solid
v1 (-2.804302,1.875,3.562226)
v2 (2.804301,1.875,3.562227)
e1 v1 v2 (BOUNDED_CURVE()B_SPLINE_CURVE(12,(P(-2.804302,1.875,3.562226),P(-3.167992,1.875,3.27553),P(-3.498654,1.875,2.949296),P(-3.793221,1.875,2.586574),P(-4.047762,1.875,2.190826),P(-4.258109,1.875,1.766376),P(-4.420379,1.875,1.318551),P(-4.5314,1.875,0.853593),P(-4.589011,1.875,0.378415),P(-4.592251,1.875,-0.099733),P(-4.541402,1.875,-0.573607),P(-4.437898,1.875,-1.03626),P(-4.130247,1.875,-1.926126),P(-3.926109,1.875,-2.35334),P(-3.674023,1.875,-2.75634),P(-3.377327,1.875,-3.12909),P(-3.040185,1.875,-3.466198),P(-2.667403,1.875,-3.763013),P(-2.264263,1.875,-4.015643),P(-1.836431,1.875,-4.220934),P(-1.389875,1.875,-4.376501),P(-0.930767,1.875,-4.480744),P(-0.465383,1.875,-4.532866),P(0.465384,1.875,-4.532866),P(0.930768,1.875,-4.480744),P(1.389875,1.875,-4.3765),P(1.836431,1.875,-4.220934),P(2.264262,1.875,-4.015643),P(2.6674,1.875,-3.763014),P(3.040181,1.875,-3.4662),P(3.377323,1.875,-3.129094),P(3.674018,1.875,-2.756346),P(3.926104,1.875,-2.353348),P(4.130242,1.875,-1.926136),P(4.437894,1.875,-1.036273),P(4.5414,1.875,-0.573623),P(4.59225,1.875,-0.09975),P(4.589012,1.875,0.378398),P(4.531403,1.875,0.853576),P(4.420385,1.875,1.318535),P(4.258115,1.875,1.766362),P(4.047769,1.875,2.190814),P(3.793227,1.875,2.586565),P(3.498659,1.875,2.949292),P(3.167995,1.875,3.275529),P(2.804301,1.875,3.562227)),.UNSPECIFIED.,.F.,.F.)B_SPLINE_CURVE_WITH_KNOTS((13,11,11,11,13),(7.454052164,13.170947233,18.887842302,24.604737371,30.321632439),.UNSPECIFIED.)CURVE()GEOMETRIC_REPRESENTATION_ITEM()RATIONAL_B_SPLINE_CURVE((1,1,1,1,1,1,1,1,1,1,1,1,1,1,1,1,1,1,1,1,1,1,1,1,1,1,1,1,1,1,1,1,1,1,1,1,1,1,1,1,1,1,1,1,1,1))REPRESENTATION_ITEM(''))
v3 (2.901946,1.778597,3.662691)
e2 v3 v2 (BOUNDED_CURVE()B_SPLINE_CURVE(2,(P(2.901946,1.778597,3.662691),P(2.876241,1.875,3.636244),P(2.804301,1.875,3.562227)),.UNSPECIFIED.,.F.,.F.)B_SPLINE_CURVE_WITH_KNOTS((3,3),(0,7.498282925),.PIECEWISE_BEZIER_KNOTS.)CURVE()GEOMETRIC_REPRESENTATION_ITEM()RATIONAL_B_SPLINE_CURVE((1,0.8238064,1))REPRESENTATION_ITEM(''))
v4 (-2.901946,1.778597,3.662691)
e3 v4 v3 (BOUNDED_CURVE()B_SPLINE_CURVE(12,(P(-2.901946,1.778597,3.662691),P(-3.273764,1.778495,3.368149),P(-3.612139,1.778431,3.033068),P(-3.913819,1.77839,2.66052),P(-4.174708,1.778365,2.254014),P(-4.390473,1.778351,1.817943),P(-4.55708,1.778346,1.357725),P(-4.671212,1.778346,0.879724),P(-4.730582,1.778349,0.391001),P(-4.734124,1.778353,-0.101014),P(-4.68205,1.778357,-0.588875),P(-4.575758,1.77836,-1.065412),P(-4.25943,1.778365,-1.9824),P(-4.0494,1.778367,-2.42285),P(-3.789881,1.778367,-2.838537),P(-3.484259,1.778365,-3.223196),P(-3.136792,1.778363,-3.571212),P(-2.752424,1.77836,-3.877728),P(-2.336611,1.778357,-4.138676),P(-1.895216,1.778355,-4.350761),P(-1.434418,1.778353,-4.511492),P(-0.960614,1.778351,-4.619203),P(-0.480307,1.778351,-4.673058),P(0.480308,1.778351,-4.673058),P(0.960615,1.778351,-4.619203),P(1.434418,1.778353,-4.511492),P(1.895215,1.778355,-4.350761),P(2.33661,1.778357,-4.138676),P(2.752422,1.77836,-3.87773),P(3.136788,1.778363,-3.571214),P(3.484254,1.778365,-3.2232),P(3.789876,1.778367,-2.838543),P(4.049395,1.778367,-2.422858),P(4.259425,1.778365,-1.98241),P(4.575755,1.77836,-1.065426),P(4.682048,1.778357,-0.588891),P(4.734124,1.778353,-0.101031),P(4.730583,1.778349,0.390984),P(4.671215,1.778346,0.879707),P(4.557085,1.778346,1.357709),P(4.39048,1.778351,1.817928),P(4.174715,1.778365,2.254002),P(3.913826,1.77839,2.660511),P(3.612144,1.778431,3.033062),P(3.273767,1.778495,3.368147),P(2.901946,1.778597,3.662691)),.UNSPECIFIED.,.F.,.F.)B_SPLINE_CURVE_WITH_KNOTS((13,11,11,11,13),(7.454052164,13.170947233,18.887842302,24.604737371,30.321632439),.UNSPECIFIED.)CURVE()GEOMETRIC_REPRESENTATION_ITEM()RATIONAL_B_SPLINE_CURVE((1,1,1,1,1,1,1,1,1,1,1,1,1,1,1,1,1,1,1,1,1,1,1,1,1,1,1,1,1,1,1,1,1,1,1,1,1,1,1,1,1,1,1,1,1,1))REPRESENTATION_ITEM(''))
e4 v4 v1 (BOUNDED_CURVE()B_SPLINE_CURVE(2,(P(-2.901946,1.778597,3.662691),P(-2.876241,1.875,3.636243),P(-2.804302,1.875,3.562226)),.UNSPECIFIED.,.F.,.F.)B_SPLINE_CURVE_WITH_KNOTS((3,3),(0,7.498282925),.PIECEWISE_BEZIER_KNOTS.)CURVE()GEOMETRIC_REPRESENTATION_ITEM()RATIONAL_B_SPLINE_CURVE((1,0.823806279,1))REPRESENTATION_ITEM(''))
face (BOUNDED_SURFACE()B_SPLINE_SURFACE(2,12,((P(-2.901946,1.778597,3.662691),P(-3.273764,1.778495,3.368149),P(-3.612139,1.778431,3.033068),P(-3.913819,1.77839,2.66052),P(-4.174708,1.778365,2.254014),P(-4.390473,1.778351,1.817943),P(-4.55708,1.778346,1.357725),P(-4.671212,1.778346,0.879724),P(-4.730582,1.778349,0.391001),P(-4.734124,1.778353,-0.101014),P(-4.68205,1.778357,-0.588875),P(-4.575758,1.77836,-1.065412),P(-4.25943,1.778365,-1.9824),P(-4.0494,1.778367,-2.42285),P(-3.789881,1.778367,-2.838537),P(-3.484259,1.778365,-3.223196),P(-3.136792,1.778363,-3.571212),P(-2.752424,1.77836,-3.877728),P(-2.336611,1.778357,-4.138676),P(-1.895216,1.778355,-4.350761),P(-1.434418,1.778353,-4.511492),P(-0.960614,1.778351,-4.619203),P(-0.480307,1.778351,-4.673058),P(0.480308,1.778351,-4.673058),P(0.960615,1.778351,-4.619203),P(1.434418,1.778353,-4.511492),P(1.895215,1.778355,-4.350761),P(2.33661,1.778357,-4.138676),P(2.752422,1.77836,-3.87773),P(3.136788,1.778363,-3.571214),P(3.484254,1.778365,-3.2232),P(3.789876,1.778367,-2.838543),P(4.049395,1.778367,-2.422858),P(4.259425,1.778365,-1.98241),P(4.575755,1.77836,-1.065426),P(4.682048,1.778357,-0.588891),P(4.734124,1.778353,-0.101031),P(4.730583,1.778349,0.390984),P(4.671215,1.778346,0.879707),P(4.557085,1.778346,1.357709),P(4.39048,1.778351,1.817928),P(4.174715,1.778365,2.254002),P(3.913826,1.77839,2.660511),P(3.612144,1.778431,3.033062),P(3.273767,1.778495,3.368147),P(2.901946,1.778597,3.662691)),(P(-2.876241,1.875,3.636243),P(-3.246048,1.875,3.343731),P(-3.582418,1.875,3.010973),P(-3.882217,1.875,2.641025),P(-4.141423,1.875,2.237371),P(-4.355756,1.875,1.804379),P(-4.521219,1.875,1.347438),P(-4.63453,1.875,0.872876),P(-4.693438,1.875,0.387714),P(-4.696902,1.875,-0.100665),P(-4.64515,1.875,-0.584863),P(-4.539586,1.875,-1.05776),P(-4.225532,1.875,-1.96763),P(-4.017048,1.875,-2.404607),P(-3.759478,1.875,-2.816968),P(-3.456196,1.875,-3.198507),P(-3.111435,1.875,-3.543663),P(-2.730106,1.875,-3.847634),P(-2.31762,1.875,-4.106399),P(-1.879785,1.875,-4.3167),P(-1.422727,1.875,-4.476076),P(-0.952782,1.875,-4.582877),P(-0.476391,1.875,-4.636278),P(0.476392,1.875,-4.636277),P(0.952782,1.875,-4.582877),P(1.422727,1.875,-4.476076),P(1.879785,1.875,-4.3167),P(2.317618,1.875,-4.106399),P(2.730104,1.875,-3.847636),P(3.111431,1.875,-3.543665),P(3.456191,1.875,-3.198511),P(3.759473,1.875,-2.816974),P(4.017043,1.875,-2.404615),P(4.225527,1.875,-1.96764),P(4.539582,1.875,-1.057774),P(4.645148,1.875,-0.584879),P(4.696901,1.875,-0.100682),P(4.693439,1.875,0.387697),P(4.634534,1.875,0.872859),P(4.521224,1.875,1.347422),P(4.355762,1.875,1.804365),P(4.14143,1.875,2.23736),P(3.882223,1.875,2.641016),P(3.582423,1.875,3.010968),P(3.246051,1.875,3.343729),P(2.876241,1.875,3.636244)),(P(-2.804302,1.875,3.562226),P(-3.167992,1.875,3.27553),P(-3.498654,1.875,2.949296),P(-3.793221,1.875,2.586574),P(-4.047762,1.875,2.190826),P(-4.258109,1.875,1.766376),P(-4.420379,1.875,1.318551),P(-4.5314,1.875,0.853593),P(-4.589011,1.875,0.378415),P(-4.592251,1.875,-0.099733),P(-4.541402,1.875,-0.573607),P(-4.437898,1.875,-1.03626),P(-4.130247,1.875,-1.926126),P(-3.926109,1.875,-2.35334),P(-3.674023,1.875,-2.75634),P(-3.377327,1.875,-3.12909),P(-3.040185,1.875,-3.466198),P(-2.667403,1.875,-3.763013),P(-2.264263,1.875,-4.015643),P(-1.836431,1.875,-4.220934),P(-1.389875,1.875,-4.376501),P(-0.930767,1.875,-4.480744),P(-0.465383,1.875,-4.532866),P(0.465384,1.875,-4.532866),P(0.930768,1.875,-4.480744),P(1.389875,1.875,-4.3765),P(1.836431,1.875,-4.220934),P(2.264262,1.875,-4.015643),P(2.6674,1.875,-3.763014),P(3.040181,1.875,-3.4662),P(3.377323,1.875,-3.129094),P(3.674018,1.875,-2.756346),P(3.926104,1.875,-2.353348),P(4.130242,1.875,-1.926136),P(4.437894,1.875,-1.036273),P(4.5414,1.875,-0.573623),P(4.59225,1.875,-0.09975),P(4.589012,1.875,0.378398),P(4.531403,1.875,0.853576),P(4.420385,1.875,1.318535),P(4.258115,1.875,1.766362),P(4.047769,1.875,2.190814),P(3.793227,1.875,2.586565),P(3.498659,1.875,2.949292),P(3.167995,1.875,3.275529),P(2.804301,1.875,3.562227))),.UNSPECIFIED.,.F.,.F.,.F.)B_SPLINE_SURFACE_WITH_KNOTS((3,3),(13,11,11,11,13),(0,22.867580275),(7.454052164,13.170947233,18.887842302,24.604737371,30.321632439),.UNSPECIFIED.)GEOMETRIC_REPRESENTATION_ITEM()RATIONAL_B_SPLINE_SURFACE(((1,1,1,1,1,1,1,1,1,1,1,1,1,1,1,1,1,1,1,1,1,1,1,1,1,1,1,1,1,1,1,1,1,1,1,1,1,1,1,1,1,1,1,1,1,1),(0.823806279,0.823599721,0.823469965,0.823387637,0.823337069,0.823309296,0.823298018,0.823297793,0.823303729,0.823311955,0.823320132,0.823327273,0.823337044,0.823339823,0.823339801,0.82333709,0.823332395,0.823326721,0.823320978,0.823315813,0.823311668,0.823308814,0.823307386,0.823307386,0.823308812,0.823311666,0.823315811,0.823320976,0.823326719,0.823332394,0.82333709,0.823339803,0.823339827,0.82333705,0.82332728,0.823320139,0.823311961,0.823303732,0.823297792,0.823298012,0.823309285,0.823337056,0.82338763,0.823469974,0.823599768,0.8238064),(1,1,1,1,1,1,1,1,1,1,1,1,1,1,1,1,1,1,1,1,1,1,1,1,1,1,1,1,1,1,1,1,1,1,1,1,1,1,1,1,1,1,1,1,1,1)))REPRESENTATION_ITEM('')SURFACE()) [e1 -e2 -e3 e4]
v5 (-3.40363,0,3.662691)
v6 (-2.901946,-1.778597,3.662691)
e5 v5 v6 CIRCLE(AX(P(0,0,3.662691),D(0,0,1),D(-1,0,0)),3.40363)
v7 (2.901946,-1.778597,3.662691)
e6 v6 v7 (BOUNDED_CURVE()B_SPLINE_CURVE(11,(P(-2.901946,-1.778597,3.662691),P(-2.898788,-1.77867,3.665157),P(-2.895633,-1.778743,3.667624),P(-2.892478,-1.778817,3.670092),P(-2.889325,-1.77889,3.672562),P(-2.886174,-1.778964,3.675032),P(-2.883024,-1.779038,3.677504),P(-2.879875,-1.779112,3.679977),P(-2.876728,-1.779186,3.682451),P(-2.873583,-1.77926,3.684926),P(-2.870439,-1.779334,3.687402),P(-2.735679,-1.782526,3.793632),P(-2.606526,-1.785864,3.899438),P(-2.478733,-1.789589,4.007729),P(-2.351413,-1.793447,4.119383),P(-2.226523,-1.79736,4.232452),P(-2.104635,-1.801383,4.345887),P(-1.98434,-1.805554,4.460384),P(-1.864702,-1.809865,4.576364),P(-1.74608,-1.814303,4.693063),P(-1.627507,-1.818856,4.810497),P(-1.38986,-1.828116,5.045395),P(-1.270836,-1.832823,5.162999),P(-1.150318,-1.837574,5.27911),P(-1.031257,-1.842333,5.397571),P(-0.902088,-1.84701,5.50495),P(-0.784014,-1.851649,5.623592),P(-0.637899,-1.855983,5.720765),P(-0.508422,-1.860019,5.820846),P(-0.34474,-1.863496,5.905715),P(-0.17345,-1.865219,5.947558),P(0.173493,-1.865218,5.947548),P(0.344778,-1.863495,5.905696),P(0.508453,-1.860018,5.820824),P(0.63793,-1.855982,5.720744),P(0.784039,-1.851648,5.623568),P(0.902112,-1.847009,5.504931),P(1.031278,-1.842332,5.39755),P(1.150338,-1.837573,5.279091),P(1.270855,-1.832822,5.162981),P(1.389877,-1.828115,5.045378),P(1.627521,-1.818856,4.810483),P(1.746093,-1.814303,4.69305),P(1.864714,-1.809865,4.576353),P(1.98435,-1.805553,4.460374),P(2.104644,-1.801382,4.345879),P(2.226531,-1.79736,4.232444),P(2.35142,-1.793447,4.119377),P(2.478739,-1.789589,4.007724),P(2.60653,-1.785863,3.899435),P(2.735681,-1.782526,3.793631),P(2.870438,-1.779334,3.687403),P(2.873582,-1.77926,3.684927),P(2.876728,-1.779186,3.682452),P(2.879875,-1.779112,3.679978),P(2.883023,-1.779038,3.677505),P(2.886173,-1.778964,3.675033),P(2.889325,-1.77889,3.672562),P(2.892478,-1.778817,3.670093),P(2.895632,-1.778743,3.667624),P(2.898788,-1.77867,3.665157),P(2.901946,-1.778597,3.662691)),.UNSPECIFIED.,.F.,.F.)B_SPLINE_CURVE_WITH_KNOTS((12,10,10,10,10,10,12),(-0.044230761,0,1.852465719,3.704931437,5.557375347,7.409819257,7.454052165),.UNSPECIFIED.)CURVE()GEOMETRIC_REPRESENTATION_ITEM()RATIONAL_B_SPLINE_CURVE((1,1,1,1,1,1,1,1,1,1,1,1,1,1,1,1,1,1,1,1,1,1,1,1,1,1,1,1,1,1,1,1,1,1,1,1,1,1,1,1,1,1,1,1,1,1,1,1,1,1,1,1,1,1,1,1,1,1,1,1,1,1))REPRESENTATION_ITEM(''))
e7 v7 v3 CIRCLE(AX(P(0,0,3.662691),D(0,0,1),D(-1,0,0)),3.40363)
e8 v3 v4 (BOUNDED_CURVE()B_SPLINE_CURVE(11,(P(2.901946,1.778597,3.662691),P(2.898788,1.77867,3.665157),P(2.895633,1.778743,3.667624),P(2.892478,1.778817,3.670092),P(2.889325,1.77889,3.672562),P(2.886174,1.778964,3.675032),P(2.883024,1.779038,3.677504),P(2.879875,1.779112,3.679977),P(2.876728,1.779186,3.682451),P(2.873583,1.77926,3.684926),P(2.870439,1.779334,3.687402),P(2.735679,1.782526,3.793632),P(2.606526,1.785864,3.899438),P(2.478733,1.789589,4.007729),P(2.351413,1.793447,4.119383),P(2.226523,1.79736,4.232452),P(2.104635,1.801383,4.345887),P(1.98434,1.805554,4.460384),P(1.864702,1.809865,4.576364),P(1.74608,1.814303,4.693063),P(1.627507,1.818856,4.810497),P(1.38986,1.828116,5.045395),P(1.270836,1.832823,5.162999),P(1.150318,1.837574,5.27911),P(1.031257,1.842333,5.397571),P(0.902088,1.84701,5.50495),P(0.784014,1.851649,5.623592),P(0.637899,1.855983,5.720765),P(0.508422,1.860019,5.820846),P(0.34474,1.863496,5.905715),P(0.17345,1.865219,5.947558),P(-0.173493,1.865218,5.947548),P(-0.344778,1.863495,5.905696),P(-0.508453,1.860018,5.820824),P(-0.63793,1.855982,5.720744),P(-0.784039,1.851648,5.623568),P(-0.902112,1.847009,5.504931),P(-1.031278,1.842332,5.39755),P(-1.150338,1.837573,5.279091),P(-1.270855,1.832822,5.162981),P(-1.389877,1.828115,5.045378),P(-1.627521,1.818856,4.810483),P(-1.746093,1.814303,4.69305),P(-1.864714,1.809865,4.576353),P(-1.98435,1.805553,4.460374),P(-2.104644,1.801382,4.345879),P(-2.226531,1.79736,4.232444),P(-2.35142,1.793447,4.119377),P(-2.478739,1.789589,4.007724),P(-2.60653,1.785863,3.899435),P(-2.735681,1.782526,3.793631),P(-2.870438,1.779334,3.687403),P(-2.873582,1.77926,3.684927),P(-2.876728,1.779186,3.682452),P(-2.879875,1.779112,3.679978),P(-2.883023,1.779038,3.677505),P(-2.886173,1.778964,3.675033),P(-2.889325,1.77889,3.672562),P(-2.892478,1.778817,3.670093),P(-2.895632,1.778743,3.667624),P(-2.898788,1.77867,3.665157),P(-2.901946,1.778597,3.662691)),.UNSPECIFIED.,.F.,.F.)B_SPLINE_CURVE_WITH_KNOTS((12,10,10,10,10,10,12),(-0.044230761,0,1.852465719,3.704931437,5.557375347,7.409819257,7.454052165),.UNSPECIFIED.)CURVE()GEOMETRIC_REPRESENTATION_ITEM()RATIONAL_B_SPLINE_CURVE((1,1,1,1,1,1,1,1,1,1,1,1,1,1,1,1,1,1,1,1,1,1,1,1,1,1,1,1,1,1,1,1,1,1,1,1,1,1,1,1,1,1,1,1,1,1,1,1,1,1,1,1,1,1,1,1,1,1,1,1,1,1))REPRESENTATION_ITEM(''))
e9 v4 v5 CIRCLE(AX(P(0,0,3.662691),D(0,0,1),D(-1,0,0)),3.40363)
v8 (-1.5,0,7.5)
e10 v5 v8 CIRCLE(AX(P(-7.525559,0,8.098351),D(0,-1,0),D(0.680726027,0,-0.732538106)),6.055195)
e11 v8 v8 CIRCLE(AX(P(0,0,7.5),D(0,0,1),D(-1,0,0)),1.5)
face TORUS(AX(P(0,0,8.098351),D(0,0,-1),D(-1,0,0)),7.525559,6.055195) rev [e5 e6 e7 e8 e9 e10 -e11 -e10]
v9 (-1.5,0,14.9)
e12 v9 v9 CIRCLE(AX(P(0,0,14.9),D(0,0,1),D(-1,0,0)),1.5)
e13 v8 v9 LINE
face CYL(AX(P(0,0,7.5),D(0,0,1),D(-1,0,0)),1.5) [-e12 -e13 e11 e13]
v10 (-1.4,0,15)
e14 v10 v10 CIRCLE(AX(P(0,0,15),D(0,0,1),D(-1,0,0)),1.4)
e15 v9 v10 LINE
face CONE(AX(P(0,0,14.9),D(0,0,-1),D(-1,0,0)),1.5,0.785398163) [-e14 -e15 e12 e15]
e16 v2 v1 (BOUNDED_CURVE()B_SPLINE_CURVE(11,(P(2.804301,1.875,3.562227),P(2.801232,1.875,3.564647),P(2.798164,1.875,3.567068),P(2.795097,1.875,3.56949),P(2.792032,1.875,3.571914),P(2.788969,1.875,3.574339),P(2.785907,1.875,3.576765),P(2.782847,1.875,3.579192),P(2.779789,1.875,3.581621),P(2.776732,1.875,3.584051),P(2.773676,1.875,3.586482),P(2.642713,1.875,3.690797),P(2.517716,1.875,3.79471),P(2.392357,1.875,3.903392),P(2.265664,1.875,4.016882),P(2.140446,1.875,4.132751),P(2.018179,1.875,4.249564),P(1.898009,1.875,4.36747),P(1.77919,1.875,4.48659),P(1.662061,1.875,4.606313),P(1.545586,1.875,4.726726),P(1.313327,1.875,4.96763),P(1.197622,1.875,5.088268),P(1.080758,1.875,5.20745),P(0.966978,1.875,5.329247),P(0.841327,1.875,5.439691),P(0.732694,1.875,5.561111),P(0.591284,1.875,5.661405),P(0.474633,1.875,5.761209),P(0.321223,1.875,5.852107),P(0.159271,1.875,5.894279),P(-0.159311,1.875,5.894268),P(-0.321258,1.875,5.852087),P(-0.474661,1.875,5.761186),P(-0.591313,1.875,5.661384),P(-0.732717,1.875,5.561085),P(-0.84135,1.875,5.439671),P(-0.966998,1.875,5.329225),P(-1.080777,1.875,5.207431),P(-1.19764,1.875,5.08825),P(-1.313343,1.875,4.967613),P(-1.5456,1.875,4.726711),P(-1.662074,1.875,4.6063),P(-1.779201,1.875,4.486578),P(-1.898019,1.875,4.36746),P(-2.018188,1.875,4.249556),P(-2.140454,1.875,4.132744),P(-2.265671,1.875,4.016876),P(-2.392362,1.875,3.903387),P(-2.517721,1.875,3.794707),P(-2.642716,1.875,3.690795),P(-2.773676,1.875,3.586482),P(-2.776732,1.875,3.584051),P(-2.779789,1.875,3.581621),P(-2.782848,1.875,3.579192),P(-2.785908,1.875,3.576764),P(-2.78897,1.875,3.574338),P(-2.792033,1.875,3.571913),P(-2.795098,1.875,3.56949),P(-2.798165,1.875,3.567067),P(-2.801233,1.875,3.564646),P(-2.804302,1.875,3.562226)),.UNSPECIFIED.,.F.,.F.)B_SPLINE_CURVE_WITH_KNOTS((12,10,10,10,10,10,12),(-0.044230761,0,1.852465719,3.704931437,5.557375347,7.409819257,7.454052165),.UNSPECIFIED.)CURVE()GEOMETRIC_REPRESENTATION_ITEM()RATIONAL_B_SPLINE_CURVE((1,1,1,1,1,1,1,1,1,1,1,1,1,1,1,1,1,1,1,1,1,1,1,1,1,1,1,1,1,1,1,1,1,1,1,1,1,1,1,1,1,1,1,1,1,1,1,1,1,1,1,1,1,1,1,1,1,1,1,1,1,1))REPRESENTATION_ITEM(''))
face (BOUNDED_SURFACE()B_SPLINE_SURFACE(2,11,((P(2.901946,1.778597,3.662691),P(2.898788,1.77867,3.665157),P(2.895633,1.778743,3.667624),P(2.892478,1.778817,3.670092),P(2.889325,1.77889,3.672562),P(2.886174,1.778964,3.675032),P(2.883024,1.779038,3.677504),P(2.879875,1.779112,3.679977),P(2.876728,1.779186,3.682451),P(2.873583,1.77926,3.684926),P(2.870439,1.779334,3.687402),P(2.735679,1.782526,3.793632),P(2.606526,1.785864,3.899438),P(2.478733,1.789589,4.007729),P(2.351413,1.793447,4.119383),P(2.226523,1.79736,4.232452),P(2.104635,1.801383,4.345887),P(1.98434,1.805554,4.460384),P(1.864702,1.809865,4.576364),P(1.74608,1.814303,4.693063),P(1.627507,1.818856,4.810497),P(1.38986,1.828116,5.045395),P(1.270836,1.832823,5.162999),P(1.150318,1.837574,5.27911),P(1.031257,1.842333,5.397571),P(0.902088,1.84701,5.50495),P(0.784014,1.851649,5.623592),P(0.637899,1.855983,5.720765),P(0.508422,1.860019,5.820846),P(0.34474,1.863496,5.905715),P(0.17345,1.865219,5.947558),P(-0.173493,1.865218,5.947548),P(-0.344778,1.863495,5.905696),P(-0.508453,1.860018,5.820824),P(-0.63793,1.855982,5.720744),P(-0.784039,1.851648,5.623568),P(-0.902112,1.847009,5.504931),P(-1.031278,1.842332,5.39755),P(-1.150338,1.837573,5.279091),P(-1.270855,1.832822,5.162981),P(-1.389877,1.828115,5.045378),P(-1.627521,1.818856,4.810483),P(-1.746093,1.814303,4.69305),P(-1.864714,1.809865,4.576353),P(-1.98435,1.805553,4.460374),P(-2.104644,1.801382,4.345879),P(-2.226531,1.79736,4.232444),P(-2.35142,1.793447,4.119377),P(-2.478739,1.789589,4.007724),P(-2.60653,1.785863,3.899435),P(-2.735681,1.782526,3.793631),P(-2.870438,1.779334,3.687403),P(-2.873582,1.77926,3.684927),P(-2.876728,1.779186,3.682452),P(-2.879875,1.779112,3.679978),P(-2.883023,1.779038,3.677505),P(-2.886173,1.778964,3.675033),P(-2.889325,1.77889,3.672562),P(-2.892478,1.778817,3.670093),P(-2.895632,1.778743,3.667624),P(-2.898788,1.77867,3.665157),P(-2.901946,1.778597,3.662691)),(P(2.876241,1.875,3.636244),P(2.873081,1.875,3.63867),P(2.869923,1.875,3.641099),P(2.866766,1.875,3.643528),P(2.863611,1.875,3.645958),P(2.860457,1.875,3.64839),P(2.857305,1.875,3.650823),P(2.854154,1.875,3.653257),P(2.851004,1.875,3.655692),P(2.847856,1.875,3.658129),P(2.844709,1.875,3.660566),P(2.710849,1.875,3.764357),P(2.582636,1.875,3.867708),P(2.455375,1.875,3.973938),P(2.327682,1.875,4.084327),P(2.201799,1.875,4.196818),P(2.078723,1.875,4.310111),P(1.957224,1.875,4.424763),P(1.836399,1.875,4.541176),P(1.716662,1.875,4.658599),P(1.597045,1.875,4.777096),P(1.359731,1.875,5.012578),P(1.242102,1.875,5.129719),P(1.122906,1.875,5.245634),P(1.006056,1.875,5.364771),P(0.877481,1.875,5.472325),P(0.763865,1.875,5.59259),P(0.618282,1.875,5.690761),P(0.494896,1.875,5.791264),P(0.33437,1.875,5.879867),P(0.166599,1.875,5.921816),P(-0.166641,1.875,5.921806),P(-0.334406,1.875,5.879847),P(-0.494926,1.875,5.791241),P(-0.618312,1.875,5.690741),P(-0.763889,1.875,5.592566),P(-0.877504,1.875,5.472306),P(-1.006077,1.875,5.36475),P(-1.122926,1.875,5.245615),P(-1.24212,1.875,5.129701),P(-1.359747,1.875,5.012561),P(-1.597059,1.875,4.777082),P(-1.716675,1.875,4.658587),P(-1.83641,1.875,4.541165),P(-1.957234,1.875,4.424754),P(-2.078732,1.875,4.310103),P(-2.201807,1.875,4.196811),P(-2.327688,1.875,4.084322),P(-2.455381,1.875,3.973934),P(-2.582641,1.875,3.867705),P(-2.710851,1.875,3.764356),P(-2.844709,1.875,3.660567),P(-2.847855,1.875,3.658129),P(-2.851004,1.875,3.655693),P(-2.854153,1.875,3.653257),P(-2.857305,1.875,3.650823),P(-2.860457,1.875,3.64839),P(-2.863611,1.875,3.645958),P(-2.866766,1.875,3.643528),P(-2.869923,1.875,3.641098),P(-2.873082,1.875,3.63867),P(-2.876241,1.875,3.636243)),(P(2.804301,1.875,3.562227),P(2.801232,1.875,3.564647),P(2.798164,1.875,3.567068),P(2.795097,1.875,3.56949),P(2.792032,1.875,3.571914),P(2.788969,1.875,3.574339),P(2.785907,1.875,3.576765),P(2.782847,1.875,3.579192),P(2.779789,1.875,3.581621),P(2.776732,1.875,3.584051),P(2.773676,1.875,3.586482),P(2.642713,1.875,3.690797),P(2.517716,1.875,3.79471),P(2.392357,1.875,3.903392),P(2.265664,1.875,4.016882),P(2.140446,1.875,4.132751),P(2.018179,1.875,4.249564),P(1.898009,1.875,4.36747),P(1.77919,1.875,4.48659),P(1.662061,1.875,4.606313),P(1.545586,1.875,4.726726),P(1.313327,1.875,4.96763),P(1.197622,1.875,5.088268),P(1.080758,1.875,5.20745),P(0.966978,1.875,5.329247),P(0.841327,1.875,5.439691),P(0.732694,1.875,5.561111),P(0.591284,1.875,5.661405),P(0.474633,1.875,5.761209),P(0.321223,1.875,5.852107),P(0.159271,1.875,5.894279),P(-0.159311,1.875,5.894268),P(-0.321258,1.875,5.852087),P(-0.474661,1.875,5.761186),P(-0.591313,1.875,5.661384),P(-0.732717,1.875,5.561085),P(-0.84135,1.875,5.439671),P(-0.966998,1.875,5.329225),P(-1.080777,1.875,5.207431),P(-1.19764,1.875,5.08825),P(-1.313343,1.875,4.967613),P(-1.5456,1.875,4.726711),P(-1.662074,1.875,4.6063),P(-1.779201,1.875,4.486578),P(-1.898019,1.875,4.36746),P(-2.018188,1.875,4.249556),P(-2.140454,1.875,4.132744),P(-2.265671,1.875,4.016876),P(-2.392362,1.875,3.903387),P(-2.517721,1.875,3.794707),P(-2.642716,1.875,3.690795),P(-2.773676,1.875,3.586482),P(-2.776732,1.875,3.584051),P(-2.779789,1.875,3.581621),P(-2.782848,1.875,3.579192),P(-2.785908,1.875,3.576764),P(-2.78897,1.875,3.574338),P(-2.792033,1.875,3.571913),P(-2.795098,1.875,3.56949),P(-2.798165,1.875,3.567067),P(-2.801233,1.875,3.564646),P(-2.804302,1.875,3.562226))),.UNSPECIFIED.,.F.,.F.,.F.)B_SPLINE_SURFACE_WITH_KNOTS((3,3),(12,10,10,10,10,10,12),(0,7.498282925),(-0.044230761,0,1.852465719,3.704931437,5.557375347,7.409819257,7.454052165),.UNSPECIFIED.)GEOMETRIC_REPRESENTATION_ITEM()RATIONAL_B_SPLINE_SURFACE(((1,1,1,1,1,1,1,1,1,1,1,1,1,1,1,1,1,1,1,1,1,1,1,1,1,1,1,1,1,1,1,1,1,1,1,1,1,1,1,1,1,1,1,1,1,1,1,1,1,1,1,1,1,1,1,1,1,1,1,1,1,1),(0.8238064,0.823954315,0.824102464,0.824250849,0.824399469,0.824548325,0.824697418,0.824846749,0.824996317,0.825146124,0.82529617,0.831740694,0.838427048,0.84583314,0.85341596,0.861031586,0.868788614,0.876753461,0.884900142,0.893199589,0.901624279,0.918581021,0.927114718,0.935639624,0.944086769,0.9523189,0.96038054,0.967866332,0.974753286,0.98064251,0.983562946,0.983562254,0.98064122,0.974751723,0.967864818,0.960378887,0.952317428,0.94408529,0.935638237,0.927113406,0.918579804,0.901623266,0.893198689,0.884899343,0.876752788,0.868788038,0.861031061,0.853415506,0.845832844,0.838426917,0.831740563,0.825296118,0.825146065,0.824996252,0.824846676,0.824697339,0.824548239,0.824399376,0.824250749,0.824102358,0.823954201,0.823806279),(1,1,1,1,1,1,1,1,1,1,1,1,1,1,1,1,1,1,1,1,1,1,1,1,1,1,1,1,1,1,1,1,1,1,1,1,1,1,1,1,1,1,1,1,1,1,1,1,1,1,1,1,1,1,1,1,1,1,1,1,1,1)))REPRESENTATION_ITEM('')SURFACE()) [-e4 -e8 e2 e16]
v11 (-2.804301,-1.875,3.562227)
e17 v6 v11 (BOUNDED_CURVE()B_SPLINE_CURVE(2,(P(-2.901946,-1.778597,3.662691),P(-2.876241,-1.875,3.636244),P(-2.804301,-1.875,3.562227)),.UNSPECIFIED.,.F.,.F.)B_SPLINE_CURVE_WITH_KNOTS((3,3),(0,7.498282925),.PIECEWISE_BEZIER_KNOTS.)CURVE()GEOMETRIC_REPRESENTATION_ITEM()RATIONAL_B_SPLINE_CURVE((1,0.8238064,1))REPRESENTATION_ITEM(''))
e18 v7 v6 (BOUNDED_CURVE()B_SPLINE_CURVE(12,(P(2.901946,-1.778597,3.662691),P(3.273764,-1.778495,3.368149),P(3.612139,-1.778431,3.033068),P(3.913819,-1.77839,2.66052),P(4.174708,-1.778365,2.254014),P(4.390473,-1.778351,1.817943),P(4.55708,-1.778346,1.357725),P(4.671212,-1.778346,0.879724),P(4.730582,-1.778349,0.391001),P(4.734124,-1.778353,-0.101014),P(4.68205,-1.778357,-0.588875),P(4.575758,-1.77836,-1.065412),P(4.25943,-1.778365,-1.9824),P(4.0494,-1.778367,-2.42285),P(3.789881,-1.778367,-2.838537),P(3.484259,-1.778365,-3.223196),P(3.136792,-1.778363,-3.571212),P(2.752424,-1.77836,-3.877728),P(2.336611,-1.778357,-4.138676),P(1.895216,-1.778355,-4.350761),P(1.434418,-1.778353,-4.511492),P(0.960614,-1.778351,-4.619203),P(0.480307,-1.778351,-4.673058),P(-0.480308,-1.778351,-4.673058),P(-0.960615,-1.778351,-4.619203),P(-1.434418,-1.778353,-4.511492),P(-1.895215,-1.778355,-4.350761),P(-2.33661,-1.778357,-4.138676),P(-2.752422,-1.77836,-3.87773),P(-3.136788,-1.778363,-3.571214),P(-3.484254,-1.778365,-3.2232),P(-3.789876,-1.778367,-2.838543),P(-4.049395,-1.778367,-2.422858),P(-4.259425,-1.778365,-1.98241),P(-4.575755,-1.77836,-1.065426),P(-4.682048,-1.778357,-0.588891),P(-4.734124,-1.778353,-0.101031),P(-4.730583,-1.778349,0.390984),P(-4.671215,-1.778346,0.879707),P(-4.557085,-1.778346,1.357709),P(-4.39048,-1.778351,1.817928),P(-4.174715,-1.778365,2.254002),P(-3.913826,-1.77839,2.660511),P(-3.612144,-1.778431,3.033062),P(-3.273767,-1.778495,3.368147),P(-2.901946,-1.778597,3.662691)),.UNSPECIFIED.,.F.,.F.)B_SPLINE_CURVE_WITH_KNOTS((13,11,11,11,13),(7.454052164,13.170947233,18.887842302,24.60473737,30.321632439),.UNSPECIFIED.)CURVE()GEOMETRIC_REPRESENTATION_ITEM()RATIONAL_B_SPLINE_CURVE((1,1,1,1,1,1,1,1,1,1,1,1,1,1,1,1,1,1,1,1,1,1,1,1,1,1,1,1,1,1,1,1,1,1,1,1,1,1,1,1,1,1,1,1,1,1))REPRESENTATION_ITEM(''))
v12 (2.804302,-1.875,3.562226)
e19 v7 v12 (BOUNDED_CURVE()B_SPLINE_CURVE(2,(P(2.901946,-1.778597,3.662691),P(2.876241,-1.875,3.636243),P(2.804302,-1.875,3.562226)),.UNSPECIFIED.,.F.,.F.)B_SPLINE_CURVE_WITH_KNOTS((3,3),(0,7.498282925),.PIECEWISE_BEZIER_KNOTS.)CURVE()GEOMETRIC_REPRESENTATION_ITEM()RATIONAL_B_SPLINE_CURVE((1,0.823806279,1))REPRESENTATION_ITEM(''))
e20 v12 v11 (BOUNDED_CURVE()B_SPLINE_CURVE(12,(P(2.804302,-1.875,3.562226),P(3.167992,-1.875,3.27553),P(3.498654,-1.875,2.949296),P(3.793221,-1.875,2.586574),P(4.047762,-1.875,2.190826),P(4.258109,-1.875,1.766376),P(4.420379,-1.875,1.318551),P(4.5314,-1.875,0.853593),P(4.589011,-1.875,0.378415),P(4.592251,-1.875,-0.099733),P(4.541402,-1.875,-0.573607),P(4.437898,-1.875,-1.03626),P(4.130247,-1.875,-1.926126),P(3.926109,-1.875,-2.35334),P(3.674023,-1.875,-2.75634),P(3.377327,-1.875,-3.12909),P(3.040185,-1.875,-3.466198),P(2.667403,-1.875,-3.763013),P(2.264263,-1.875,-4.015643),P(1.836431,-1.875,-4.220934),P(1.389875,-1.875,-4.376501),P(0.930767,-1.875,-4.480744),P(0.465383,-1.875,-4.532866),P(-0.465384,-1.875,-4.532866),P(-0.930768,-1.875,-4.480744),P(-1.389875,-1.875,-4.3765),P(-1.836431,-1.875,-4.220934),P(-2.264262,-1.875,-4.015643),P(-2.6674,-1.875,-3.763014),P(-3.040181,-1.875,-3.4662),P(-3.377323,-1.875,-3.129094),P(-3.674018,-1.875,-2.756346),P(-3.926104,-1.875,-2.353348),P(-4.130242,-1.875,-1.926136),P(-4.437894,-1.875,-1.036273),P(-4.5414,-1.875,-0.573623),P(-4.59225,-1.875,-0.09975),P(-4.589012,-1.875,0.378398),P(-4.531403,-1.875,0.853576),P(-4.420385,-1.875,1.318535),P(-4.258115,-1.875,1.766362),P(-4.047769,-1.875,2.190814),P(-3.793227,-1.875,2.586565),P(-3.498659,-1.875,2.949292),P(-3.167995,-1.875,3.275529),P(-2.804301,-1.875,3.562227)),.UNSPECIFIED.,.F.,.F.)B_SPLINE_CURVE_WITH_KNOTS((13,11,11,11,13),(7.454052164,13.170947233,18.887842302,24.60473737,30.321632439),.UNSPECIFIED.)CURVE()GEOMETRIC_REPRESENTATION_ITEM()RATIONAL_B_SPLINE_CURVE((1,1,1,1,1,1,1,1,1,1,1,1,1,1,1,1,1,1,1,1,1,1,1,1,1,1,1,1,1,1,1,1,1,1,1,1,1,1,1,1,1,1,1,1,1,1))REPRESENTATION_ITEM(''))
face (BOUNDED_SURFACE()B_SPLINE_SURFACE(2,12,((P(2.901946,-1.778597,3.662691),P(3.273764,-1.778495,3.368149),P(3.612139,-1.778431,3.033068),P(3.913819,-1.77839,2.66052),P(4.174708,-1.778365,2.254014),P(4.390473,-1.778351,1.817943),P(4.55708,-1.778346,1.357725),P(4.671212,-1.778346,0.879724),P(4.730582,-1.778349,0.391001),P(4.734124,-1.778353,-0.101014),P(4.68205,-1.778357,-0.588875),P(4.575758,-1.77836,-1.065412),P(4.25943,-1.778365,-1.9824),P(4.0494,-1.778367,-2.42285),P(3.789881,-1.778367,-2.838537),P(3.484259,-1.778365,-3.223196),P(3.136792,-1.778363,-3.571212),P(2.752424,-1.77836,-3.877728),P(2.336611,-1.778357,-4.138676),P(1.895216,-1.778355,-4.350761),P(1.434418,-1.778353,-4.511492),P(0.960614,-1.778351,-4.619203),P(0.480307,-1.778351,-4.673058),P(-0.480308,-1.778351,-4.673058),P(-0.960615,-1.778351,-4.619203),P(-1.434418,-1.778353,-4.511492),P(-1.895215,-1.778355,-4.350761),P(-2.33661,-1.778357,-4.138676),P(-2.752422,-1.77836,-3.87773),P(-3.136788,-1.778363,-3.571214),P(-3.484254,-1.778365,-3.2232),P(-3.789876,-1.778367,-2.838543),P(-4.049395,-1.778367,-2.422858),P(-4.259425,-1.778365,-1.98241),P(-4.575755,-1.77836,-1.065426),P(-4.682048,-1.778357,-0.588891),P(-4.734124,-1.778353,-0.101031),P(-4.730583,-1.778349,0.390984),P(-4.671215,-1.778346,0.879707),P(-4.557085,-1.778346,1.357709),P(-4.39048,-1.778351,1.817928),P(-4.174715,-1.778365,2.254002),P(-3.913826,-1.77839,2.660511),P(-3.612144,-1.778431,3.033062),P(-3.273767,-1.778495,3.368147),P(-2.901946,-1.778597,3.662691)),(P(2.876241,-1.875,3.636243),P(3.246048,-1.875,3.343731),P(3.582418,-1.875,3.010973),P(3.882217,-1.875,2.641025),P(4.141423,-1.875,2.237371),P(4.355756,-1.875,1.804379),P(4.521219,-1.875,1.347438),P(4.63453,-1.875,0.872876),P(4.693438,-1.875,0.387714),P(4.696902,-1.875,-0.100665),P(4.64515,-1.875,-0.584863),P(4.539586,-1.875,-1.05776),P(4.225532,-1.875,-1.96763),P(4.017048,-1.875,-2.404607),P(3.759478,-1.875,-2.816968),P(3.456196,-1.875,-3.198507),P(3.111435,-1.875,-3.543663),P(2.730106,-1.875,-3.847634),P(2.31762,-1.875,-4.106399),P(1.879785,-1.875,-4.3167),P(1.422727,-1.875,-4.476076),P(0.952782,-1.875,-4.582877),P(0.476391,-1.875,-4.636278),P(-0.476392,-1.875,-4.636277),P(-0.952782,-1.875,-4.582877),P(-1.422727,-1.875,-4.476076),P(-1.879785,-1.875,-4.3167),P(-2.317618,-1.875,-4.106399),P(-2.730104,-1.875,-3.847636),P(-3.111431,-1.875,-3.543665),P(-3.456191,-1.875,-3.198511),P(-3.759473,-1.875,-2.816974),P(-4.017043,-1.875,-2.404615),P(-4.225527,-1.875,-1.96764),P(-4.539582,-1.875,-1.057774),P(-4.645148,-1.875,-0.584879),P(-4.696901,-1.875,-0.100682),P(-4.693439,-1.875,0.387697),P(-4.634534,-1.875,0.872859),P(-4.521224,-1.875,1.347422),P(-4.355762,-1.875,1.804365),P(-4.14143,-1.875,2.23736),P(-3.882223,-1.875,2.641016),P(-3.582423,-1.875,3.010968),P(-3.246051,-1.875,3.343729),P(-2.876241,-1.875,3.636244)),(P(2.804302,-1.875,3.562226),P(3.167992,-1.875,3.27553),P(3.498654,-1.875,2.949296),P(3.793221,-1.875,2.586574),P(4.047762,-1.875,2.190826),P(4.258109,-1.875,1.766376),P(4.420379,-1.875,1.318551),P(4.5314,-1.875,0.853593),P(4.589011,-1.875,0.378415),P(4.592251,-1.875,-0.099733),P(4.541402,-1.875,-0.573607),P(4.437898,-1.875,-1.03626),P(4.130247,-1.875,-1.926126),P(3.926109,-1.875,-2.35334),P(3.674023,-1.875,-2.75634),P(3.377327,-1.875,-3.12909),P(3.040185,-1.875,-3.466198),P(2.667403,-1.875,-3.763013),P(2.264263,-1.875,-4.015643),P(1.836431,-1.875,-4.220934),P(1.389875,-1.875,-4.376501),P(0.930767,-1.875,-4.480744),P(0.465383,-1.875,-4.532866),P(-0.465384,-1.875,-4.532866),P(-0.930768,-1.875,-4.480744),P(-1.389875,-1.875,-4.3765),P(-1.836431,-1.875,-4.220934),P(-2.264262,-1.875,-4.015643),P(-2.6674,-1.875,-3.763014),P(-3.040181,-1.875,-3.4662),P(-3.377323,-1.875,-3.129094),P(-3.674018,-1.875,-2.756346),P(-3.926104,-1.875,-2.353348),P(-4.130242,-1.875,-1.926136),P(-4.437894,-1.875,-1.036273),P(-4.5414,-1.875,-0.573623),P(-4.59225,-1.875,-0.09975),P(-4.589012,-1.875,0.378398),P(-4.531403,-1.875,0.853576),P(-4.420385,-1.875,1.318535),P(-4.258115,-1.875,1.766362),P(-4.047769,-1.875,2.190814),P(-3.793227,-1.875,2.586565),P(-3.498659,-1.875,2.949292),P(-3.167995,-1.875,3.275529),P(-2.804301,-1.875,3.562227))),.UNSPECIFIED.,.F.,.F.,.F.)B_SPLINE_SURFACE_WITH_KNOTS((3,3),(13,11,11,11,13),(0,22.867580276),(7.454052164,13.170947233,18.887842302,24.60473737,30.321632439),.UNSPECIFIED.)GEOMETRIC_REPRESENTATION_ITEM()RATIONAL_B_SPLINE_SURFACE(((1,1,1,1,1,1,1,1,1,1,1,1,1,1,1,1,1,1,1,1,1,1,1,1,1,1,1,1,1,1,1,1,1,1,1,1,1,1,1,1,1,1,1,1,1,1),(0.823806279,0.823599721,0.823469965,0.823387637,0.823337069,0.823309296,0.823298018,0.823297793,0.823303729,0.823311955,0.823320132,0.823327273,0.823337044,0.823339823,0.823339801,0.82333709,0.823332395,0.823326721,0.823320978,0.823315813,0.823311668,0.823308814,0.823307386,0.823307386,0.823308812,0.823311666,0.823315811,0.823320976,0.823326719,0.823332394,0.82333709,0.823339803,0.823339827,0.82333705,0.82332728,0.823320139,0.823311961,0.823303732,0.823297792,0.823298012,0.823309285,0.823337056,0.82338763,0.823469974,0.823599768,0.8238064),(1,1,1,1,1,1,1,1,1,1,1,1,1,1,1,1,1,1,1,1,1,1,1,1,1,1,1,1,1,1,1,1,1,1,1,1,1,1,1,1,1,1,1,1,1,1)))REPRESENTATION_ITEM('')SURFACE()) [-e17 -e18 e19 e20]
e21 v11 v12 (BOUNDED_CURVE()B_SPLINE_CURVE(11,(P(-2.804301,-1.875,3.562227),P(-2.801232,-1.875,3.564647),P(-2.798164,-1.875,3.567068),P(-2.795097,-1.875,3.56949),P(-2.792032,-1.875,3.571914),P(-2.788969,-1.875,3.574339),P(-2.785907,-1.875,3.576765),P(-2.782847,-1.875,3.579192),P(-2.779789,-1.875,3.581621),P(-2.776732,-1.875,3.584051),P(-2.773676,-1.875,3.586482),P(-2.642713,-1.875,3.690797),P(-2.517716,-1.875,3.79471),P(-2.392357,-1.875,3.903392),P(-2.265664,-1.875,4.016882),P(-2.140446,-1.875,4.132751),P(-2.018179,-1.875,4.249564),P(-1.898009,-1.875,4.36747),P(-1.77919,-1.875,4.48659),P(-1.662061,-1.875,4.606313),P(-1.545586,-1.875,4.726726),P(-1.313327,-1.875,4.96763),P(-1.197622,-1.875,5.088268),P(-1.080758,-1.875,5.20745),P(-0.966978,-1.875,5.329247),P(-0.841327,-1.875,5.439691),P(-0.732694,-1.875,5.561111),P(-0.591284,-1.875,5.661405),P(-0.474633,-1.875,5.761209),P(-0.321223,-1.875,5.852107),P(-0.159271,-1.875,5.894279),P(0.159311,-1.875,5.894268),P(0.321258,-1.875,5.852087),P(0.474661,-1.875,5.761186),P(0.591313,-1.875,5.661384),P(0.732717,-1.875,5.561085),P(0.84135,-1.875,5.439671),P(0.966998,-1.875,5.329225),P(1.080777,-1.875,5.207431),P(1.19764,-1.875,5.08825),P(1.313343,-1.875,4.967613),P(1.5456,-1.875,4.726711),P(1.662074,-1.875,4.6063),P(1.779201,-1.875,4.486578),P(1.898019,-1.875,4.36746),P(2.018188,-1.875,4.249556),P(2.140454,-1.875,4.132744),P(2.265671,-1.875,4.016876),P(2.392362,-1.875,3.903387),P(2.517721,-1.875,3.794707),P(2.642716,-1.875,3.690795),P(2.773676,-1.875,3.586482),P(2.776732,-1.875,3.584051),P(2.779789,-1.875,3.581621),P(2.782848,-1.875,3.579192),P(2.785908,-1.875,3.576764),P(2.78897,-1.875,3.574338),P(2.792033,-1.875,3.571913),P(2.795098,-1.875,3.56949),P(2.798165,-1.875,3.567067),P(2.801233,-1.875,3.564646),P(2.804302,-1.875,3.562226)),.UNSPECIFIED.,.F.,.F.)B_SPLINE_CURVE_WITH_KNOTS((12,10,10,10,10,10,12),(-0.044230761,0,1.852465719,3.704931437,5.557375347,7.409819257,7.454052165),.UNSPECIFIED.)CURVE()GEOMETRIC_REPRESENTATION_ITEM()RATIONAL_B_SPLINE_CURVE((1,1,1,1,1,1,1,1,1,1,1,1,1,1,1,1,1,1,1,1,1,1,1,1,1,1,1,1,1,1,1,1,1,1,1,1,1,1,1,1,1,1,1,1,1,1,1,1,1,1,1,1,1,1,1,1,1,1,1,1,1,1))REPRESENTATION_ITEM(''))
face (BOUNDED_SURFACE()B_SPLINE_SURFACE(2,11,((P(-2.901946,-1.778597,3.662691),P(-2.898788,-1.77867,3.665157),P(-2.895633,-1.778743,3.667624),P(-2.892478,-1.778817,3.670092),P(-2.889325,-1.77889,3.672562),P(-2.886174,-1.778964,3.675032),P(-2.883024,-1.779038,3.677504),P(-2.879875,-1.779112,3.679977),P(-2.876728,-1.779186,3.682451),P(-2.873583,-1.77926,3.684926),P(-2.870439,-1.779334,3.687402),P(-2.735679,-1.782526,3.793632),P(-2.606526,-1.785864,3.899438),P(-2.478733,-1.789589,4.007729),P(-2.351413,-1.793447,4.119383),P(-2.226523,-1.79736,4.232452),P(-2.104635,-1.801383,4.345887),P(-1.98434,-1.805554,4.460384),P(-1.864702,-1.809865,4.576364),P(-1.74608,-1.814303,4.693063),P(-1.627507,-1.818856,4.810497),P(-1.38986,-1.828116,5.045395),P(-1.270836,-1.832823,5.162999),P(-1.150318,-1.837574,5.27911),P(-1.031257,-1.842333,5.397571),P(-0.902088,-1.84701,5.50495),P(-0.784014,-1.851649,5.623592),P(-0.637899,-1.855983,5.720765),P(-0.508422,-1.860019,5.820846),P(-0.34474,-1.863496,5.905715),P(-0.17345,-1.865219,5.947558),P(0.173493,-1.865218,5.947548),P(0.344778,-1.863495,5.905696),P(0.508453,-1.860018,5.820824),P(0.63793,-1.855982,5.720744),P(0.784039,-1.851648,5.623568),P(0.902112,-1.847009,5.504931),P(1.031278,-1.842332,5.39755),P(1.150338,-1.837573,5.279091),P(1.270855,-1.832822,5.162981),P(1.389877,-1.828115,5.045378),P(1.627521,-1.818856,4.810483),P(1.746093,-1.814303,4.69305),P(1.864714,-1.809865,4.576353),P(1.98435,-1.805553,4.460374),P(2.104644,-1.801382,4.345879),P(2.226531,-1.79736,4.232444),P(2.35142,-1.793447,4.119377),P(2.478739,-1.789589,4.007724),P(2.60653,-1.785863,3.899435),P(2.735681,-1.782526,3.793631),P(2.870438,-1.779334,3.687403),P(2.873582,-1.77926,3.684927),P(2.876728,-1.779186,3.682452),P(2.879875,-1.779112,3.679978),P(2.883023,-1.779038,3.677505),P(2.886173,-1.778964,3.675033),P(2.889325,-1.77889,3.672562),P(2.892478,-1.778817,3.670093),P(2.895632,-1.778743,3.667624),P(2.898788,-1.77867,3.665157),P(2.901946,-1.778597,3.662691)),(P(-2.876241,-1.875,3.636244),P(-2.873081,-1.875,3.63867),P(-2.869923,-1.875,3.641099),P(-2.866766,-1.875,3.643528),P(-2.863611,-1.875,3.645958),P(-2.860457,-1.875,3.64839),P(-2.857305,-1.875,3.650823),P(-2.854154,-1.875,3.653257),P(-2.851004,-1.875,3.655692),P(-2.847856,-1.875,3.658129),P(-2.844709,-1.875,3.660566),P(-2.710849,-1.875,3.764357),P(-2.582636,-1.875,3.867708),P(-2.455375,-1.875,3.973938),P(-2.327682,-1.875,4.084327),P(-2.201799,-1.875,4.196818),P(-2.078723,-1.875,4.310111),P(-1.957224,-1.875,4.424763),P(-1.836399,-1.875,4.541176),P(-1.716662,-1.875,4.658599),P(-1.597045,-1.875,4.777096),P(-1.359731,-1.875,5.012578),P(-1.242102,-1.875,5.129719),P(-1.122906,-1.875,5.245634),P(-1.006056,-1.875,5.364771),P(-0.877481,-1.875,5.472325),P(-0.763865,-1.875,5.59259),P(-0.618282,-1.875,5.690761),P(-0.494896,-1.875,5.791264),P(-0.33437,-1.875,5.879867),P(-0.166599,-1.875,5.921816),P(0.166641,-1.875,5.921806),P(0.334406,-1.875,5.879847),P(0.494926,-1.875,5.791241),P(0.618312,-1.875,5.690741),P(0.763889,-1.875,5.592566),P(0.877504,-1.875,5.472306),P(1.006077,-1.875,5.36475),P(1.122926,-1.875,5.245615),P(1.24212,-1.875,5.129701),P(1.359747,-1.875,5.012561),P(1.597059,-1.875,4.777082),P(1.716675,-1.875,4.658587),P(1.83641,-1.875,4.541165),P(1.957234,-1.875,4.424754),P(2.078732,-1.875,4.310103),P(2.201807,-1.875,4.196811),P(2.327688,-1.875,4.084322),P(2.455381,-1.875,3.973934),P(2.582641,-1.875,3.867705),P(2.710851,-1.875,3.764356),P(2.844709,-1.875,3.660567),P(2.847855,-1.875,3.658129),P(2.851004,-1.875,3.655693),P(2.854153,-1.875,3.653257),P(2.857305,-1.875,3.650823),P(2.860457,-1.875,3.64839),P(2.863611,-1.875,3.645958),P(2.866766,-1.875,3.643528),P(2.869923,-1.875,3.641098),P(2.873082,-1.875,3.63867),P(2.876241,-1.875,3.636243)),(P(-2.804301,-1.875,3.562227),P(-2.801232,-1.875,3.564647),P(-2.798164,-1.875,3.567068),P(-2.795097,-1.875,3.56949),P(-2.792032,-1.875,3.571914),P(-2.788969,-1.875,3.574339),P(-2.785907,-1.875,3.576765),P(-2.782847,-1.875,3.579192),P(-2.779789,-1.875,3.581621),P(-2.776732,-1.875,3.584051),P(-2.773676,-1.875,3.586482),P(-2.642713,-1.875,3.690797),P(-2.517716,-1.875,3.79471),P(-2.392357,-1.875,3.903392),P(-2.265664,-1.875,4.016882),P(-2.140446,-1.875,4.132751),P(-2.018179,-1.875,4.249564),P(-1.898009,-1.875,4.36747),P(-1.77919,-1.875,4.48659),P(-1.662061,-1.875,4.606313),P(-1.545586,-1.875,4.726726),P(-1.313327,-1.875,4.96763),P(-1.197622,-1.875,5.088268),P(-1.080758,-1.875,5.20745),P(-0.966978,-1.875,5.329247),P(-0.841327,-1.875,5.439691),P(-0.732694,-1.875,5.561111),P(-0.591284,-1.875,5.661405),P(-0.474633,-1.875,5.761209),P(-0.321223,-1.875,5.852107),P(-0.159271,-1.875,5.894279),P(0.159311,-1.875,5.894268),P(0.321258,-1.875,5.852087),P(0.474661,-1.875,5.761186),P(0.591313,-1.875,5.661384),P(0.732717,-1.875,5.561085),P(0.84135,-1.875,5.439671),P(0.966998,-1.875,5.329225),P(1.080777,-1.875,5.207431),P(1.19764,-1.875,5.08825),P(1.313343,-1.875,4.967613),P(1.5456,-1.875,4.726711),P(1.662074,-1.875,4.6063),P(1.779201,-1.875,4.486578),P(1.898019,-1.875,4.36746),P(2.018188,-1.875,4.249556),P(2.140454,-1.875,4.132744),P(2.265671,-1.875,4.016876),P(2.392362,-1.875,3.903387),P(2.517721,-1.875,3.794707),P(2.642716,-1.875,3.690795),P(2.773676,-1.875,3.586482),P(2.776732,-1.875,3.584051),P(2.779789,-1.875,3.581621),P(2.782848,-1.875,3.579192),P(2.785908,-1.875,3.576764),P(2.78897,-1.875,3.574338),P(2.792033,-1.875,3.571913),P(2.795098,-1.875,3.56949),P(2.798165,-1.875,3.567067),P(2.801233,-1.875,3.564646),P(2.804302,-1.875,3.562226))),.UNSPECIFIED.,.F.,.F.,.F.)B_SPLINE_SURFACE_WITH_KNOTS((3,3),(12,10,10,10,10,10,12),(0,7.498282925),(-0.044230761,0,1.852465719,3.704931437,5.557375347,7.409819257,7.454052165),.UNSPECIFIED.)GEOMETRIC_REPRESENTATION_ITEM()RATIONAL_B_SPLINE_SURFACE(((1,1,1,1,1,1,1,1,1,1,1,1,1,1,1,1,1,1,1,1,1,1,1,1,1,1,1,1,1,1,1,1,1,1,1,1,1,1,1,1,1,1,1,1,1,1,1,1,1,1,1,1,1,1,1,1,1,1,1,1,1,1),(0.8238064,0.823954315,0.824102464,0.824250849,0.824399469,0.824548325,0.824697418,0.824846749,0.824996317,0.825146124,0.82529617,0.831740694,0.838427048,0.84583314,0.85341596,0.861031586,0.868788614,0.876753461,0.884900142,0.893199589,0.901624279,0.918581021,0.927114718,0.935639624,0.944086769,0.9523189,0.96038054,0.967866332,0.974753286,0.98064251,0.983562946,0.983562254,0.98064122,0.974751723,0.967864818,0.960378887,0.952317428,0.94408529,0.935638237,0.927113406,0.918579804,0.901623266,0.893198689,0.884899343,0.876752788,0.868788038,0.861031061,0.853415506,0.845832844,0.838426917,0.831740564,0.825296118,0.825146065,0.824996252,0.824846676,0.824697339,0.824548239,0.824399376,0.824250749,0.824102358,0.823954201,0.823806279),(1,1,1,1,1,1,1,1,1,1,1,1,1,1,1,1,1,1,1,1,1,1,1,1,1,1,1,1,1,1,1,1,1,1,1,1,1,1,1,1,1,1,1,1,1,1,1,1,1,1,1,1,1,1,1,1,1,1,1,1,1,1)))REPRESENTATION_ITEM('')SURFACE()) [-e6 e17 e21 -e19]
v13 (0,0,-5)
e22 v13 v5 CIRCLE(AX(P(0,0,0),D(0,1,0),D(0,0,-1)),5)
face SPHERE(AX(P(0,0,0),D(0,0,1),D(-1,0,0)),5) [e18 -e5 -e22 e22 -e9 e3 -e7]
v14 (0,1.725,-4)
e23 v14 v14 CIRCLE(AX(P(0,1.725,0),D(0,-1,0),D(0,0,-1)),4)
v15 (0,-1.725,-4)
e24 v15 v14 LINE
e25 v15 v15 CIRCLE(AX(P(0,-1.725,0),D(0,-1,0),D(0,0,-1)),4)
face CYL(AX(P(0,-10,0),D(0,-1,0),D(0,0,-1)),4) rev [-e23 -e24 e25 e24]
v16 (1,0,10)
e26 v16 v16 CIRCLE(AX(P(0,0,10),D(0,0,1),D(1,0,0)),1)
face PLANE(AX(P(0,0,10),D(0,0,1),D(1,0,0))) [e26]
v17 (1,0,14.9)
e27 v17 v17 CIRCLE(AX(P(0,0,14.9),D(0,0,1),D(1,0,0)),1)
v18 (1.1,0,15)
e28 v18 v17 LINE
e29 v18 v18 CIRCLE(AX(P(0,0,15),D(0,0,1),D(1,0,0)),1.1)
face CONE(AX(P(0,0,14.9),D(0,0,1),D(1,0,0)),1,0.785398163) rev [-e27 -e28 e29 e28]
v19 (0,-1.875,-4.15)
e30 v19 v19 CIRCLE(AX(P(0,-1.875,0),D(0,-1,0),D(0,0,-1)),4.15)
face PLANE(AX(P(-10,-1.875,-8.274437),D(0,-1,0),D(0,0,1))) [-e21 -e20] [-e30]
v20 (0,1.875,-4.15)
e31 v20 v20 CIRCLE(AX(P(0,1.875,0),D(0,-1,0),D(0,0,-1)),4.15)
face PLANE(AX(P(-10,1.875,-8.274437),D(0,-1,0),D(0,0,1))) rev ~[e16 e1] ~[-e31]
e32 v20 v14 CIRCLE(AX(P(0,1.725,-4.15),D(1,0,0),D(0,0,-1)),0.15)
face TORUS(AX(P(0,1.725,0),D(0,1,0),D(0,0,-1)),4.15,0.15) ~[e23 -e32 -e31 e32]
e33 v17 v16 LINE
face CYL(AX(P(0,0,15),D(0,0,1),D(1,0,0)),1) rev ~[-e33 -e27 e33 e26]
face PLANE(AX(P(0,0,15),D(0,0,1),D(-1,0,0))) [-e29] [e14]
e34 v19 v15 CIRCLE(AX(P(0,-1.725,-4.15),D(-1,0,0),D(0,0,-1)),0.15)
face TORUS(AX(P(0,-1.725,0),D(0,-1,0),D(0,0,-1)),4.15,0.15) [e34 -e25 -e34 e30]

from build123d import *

# Parameters (mm, degrees)
CUT_EXTRUDE1_DEPTH      = 10
CUT_EXTRUDE1_DEPTH_BACK = 10
CUT_EXTRUDE2_DEPTH      = 10
CUT_EXTRUDE2_DEPTH_BACK = 10
SKETCH4_R               = 4
FILLET1_R               = 0.15
SKETCH5_R               = 1
CUT_EXTRUDE3_DEPTH      = 5
CHAMFER1_SIZE           = 0.1


with BuildPart() as part:
    # Sketch2 → Revolve1 (revolve)
    with BuildSketch(Plane(origin=(0, 0, 0), x_dir=(1, 0, 0), z_dir=(0, 1, 0))):
        with BuildLine():
            Line((-1.5, -15), (0, -15))
            Line((0, -15), (0, 5))
            ThreePointArc((0, 5), (-4.653678795, 1.828462107), (-3.403630134, -3.662690529))
            ThreePointArc((-3.403630134, -3.662690529), (-2.101159156, -5.407390267), (-1.5, -7.5))
            Line((-1.5, -7.5), (-1.5, -15))
        make_face()
    revolve(axis=Axis((0, 0, -5), (0, 0, 1)))

    # Sketch3 → Cut-Extrude1 (cut, two sides: drawn at the far end of the back side and taken through both)
    with BuildSketch(Plane(origin=(0, 0, 0), x_dir=(0, 0, -1), z_dir=(1, 0, 0)).offset(-CUT_EXTRUDE1_DEPTH_BACK)):
        with BuildLine():
            Line((-28.551214251, 11.477133286), (8.27443741, 11.477133286))
            Line((8.27443741, 11.477133286), (8.27443741, 1.875))
            Line((8.27443741, 1.875), (-13.261452794, 1.875))
            ThreePointArc((-13.261452794, 1.875), (-14.764981791, 2.106415246), (-16.129334975, 2.779239779))
            Line((-16.129334975, 2.779239779), (-28.551214251, 11.477133286))
        make_face()
        with BuildLine():
            Line((-16.129334975, -2.779239779), (-28.551214251, -11.477133286))
            Line((-28.551214251, -11.477133286), (8.27443741, -11.477133286))
            Line((8.27443741, -11.477133286), (8.27443741, -1.875))
            Line((8.27443741, -1.875), (-13.261452794, -1.875))
            ThreePointArc((-13.261452794, -1.875), (-14.764981791, -2.106415246), (-16.129334975, -2.779239779))
        make_face()
    extrude(amount=CUT_EXTRUDE1_DEPTH + CUT_EXTRUDE1_DEPTH_BACK, mode=Mode.SUBTRACT)

    # Sketch4 → Cut-Extrude2 (cut, two sides: drawn at the far end of the back side and taken through both)
    with BuildSketch(Plane(origin=(0, 0, 0), x_dir=(1, 0, 0), z_dir=(0, 1, 0)).offset(-CUT_EXTRUDE2_DEPTH_BACK)):
        Circle(SKETCH4_R)
    extrude(amount=CUT_EXTRUDE2_DEPTH + CUT_EXTRUDE2_DEPTH_BACK, mode=Mode.SUBTRACT)

    # Fillet1
    fillet1_edges = [part.edges().sort_by_distance(p)[0] for p in [
        (-4, -1.875, 0),
        (0, -1.875, -4.635124054),
        (0, 1.875, -4.635124054),
        (-1e-09, -1.875, 5.921985494),
        (1e-09, 1.875, 5.921985494),
        (-4, 1.875, 0),
    ]]
    fillet(fillet1_edges, radius=FILLET1_R)

    # Sketch5 → Cut-Extrude3 (cut)
    with BuildSketch(Plane.XY.offset(15)):
        Circle(SKETCH5_R)
    extrude(amount=-CUT_EXTRUDE3_DEPTH, mode=Mode.SUBTRACT)

    # Chamfer1
    chamfer1_edges = [part.edges().sort_by_distance(p)[0] for p in [
        (1.5, 0, 15),
        (-1, 0, 15),
    ]]
    chamfer(chamfer1_edges, length=CHAMFER1_SIZE)


solid = part.part
